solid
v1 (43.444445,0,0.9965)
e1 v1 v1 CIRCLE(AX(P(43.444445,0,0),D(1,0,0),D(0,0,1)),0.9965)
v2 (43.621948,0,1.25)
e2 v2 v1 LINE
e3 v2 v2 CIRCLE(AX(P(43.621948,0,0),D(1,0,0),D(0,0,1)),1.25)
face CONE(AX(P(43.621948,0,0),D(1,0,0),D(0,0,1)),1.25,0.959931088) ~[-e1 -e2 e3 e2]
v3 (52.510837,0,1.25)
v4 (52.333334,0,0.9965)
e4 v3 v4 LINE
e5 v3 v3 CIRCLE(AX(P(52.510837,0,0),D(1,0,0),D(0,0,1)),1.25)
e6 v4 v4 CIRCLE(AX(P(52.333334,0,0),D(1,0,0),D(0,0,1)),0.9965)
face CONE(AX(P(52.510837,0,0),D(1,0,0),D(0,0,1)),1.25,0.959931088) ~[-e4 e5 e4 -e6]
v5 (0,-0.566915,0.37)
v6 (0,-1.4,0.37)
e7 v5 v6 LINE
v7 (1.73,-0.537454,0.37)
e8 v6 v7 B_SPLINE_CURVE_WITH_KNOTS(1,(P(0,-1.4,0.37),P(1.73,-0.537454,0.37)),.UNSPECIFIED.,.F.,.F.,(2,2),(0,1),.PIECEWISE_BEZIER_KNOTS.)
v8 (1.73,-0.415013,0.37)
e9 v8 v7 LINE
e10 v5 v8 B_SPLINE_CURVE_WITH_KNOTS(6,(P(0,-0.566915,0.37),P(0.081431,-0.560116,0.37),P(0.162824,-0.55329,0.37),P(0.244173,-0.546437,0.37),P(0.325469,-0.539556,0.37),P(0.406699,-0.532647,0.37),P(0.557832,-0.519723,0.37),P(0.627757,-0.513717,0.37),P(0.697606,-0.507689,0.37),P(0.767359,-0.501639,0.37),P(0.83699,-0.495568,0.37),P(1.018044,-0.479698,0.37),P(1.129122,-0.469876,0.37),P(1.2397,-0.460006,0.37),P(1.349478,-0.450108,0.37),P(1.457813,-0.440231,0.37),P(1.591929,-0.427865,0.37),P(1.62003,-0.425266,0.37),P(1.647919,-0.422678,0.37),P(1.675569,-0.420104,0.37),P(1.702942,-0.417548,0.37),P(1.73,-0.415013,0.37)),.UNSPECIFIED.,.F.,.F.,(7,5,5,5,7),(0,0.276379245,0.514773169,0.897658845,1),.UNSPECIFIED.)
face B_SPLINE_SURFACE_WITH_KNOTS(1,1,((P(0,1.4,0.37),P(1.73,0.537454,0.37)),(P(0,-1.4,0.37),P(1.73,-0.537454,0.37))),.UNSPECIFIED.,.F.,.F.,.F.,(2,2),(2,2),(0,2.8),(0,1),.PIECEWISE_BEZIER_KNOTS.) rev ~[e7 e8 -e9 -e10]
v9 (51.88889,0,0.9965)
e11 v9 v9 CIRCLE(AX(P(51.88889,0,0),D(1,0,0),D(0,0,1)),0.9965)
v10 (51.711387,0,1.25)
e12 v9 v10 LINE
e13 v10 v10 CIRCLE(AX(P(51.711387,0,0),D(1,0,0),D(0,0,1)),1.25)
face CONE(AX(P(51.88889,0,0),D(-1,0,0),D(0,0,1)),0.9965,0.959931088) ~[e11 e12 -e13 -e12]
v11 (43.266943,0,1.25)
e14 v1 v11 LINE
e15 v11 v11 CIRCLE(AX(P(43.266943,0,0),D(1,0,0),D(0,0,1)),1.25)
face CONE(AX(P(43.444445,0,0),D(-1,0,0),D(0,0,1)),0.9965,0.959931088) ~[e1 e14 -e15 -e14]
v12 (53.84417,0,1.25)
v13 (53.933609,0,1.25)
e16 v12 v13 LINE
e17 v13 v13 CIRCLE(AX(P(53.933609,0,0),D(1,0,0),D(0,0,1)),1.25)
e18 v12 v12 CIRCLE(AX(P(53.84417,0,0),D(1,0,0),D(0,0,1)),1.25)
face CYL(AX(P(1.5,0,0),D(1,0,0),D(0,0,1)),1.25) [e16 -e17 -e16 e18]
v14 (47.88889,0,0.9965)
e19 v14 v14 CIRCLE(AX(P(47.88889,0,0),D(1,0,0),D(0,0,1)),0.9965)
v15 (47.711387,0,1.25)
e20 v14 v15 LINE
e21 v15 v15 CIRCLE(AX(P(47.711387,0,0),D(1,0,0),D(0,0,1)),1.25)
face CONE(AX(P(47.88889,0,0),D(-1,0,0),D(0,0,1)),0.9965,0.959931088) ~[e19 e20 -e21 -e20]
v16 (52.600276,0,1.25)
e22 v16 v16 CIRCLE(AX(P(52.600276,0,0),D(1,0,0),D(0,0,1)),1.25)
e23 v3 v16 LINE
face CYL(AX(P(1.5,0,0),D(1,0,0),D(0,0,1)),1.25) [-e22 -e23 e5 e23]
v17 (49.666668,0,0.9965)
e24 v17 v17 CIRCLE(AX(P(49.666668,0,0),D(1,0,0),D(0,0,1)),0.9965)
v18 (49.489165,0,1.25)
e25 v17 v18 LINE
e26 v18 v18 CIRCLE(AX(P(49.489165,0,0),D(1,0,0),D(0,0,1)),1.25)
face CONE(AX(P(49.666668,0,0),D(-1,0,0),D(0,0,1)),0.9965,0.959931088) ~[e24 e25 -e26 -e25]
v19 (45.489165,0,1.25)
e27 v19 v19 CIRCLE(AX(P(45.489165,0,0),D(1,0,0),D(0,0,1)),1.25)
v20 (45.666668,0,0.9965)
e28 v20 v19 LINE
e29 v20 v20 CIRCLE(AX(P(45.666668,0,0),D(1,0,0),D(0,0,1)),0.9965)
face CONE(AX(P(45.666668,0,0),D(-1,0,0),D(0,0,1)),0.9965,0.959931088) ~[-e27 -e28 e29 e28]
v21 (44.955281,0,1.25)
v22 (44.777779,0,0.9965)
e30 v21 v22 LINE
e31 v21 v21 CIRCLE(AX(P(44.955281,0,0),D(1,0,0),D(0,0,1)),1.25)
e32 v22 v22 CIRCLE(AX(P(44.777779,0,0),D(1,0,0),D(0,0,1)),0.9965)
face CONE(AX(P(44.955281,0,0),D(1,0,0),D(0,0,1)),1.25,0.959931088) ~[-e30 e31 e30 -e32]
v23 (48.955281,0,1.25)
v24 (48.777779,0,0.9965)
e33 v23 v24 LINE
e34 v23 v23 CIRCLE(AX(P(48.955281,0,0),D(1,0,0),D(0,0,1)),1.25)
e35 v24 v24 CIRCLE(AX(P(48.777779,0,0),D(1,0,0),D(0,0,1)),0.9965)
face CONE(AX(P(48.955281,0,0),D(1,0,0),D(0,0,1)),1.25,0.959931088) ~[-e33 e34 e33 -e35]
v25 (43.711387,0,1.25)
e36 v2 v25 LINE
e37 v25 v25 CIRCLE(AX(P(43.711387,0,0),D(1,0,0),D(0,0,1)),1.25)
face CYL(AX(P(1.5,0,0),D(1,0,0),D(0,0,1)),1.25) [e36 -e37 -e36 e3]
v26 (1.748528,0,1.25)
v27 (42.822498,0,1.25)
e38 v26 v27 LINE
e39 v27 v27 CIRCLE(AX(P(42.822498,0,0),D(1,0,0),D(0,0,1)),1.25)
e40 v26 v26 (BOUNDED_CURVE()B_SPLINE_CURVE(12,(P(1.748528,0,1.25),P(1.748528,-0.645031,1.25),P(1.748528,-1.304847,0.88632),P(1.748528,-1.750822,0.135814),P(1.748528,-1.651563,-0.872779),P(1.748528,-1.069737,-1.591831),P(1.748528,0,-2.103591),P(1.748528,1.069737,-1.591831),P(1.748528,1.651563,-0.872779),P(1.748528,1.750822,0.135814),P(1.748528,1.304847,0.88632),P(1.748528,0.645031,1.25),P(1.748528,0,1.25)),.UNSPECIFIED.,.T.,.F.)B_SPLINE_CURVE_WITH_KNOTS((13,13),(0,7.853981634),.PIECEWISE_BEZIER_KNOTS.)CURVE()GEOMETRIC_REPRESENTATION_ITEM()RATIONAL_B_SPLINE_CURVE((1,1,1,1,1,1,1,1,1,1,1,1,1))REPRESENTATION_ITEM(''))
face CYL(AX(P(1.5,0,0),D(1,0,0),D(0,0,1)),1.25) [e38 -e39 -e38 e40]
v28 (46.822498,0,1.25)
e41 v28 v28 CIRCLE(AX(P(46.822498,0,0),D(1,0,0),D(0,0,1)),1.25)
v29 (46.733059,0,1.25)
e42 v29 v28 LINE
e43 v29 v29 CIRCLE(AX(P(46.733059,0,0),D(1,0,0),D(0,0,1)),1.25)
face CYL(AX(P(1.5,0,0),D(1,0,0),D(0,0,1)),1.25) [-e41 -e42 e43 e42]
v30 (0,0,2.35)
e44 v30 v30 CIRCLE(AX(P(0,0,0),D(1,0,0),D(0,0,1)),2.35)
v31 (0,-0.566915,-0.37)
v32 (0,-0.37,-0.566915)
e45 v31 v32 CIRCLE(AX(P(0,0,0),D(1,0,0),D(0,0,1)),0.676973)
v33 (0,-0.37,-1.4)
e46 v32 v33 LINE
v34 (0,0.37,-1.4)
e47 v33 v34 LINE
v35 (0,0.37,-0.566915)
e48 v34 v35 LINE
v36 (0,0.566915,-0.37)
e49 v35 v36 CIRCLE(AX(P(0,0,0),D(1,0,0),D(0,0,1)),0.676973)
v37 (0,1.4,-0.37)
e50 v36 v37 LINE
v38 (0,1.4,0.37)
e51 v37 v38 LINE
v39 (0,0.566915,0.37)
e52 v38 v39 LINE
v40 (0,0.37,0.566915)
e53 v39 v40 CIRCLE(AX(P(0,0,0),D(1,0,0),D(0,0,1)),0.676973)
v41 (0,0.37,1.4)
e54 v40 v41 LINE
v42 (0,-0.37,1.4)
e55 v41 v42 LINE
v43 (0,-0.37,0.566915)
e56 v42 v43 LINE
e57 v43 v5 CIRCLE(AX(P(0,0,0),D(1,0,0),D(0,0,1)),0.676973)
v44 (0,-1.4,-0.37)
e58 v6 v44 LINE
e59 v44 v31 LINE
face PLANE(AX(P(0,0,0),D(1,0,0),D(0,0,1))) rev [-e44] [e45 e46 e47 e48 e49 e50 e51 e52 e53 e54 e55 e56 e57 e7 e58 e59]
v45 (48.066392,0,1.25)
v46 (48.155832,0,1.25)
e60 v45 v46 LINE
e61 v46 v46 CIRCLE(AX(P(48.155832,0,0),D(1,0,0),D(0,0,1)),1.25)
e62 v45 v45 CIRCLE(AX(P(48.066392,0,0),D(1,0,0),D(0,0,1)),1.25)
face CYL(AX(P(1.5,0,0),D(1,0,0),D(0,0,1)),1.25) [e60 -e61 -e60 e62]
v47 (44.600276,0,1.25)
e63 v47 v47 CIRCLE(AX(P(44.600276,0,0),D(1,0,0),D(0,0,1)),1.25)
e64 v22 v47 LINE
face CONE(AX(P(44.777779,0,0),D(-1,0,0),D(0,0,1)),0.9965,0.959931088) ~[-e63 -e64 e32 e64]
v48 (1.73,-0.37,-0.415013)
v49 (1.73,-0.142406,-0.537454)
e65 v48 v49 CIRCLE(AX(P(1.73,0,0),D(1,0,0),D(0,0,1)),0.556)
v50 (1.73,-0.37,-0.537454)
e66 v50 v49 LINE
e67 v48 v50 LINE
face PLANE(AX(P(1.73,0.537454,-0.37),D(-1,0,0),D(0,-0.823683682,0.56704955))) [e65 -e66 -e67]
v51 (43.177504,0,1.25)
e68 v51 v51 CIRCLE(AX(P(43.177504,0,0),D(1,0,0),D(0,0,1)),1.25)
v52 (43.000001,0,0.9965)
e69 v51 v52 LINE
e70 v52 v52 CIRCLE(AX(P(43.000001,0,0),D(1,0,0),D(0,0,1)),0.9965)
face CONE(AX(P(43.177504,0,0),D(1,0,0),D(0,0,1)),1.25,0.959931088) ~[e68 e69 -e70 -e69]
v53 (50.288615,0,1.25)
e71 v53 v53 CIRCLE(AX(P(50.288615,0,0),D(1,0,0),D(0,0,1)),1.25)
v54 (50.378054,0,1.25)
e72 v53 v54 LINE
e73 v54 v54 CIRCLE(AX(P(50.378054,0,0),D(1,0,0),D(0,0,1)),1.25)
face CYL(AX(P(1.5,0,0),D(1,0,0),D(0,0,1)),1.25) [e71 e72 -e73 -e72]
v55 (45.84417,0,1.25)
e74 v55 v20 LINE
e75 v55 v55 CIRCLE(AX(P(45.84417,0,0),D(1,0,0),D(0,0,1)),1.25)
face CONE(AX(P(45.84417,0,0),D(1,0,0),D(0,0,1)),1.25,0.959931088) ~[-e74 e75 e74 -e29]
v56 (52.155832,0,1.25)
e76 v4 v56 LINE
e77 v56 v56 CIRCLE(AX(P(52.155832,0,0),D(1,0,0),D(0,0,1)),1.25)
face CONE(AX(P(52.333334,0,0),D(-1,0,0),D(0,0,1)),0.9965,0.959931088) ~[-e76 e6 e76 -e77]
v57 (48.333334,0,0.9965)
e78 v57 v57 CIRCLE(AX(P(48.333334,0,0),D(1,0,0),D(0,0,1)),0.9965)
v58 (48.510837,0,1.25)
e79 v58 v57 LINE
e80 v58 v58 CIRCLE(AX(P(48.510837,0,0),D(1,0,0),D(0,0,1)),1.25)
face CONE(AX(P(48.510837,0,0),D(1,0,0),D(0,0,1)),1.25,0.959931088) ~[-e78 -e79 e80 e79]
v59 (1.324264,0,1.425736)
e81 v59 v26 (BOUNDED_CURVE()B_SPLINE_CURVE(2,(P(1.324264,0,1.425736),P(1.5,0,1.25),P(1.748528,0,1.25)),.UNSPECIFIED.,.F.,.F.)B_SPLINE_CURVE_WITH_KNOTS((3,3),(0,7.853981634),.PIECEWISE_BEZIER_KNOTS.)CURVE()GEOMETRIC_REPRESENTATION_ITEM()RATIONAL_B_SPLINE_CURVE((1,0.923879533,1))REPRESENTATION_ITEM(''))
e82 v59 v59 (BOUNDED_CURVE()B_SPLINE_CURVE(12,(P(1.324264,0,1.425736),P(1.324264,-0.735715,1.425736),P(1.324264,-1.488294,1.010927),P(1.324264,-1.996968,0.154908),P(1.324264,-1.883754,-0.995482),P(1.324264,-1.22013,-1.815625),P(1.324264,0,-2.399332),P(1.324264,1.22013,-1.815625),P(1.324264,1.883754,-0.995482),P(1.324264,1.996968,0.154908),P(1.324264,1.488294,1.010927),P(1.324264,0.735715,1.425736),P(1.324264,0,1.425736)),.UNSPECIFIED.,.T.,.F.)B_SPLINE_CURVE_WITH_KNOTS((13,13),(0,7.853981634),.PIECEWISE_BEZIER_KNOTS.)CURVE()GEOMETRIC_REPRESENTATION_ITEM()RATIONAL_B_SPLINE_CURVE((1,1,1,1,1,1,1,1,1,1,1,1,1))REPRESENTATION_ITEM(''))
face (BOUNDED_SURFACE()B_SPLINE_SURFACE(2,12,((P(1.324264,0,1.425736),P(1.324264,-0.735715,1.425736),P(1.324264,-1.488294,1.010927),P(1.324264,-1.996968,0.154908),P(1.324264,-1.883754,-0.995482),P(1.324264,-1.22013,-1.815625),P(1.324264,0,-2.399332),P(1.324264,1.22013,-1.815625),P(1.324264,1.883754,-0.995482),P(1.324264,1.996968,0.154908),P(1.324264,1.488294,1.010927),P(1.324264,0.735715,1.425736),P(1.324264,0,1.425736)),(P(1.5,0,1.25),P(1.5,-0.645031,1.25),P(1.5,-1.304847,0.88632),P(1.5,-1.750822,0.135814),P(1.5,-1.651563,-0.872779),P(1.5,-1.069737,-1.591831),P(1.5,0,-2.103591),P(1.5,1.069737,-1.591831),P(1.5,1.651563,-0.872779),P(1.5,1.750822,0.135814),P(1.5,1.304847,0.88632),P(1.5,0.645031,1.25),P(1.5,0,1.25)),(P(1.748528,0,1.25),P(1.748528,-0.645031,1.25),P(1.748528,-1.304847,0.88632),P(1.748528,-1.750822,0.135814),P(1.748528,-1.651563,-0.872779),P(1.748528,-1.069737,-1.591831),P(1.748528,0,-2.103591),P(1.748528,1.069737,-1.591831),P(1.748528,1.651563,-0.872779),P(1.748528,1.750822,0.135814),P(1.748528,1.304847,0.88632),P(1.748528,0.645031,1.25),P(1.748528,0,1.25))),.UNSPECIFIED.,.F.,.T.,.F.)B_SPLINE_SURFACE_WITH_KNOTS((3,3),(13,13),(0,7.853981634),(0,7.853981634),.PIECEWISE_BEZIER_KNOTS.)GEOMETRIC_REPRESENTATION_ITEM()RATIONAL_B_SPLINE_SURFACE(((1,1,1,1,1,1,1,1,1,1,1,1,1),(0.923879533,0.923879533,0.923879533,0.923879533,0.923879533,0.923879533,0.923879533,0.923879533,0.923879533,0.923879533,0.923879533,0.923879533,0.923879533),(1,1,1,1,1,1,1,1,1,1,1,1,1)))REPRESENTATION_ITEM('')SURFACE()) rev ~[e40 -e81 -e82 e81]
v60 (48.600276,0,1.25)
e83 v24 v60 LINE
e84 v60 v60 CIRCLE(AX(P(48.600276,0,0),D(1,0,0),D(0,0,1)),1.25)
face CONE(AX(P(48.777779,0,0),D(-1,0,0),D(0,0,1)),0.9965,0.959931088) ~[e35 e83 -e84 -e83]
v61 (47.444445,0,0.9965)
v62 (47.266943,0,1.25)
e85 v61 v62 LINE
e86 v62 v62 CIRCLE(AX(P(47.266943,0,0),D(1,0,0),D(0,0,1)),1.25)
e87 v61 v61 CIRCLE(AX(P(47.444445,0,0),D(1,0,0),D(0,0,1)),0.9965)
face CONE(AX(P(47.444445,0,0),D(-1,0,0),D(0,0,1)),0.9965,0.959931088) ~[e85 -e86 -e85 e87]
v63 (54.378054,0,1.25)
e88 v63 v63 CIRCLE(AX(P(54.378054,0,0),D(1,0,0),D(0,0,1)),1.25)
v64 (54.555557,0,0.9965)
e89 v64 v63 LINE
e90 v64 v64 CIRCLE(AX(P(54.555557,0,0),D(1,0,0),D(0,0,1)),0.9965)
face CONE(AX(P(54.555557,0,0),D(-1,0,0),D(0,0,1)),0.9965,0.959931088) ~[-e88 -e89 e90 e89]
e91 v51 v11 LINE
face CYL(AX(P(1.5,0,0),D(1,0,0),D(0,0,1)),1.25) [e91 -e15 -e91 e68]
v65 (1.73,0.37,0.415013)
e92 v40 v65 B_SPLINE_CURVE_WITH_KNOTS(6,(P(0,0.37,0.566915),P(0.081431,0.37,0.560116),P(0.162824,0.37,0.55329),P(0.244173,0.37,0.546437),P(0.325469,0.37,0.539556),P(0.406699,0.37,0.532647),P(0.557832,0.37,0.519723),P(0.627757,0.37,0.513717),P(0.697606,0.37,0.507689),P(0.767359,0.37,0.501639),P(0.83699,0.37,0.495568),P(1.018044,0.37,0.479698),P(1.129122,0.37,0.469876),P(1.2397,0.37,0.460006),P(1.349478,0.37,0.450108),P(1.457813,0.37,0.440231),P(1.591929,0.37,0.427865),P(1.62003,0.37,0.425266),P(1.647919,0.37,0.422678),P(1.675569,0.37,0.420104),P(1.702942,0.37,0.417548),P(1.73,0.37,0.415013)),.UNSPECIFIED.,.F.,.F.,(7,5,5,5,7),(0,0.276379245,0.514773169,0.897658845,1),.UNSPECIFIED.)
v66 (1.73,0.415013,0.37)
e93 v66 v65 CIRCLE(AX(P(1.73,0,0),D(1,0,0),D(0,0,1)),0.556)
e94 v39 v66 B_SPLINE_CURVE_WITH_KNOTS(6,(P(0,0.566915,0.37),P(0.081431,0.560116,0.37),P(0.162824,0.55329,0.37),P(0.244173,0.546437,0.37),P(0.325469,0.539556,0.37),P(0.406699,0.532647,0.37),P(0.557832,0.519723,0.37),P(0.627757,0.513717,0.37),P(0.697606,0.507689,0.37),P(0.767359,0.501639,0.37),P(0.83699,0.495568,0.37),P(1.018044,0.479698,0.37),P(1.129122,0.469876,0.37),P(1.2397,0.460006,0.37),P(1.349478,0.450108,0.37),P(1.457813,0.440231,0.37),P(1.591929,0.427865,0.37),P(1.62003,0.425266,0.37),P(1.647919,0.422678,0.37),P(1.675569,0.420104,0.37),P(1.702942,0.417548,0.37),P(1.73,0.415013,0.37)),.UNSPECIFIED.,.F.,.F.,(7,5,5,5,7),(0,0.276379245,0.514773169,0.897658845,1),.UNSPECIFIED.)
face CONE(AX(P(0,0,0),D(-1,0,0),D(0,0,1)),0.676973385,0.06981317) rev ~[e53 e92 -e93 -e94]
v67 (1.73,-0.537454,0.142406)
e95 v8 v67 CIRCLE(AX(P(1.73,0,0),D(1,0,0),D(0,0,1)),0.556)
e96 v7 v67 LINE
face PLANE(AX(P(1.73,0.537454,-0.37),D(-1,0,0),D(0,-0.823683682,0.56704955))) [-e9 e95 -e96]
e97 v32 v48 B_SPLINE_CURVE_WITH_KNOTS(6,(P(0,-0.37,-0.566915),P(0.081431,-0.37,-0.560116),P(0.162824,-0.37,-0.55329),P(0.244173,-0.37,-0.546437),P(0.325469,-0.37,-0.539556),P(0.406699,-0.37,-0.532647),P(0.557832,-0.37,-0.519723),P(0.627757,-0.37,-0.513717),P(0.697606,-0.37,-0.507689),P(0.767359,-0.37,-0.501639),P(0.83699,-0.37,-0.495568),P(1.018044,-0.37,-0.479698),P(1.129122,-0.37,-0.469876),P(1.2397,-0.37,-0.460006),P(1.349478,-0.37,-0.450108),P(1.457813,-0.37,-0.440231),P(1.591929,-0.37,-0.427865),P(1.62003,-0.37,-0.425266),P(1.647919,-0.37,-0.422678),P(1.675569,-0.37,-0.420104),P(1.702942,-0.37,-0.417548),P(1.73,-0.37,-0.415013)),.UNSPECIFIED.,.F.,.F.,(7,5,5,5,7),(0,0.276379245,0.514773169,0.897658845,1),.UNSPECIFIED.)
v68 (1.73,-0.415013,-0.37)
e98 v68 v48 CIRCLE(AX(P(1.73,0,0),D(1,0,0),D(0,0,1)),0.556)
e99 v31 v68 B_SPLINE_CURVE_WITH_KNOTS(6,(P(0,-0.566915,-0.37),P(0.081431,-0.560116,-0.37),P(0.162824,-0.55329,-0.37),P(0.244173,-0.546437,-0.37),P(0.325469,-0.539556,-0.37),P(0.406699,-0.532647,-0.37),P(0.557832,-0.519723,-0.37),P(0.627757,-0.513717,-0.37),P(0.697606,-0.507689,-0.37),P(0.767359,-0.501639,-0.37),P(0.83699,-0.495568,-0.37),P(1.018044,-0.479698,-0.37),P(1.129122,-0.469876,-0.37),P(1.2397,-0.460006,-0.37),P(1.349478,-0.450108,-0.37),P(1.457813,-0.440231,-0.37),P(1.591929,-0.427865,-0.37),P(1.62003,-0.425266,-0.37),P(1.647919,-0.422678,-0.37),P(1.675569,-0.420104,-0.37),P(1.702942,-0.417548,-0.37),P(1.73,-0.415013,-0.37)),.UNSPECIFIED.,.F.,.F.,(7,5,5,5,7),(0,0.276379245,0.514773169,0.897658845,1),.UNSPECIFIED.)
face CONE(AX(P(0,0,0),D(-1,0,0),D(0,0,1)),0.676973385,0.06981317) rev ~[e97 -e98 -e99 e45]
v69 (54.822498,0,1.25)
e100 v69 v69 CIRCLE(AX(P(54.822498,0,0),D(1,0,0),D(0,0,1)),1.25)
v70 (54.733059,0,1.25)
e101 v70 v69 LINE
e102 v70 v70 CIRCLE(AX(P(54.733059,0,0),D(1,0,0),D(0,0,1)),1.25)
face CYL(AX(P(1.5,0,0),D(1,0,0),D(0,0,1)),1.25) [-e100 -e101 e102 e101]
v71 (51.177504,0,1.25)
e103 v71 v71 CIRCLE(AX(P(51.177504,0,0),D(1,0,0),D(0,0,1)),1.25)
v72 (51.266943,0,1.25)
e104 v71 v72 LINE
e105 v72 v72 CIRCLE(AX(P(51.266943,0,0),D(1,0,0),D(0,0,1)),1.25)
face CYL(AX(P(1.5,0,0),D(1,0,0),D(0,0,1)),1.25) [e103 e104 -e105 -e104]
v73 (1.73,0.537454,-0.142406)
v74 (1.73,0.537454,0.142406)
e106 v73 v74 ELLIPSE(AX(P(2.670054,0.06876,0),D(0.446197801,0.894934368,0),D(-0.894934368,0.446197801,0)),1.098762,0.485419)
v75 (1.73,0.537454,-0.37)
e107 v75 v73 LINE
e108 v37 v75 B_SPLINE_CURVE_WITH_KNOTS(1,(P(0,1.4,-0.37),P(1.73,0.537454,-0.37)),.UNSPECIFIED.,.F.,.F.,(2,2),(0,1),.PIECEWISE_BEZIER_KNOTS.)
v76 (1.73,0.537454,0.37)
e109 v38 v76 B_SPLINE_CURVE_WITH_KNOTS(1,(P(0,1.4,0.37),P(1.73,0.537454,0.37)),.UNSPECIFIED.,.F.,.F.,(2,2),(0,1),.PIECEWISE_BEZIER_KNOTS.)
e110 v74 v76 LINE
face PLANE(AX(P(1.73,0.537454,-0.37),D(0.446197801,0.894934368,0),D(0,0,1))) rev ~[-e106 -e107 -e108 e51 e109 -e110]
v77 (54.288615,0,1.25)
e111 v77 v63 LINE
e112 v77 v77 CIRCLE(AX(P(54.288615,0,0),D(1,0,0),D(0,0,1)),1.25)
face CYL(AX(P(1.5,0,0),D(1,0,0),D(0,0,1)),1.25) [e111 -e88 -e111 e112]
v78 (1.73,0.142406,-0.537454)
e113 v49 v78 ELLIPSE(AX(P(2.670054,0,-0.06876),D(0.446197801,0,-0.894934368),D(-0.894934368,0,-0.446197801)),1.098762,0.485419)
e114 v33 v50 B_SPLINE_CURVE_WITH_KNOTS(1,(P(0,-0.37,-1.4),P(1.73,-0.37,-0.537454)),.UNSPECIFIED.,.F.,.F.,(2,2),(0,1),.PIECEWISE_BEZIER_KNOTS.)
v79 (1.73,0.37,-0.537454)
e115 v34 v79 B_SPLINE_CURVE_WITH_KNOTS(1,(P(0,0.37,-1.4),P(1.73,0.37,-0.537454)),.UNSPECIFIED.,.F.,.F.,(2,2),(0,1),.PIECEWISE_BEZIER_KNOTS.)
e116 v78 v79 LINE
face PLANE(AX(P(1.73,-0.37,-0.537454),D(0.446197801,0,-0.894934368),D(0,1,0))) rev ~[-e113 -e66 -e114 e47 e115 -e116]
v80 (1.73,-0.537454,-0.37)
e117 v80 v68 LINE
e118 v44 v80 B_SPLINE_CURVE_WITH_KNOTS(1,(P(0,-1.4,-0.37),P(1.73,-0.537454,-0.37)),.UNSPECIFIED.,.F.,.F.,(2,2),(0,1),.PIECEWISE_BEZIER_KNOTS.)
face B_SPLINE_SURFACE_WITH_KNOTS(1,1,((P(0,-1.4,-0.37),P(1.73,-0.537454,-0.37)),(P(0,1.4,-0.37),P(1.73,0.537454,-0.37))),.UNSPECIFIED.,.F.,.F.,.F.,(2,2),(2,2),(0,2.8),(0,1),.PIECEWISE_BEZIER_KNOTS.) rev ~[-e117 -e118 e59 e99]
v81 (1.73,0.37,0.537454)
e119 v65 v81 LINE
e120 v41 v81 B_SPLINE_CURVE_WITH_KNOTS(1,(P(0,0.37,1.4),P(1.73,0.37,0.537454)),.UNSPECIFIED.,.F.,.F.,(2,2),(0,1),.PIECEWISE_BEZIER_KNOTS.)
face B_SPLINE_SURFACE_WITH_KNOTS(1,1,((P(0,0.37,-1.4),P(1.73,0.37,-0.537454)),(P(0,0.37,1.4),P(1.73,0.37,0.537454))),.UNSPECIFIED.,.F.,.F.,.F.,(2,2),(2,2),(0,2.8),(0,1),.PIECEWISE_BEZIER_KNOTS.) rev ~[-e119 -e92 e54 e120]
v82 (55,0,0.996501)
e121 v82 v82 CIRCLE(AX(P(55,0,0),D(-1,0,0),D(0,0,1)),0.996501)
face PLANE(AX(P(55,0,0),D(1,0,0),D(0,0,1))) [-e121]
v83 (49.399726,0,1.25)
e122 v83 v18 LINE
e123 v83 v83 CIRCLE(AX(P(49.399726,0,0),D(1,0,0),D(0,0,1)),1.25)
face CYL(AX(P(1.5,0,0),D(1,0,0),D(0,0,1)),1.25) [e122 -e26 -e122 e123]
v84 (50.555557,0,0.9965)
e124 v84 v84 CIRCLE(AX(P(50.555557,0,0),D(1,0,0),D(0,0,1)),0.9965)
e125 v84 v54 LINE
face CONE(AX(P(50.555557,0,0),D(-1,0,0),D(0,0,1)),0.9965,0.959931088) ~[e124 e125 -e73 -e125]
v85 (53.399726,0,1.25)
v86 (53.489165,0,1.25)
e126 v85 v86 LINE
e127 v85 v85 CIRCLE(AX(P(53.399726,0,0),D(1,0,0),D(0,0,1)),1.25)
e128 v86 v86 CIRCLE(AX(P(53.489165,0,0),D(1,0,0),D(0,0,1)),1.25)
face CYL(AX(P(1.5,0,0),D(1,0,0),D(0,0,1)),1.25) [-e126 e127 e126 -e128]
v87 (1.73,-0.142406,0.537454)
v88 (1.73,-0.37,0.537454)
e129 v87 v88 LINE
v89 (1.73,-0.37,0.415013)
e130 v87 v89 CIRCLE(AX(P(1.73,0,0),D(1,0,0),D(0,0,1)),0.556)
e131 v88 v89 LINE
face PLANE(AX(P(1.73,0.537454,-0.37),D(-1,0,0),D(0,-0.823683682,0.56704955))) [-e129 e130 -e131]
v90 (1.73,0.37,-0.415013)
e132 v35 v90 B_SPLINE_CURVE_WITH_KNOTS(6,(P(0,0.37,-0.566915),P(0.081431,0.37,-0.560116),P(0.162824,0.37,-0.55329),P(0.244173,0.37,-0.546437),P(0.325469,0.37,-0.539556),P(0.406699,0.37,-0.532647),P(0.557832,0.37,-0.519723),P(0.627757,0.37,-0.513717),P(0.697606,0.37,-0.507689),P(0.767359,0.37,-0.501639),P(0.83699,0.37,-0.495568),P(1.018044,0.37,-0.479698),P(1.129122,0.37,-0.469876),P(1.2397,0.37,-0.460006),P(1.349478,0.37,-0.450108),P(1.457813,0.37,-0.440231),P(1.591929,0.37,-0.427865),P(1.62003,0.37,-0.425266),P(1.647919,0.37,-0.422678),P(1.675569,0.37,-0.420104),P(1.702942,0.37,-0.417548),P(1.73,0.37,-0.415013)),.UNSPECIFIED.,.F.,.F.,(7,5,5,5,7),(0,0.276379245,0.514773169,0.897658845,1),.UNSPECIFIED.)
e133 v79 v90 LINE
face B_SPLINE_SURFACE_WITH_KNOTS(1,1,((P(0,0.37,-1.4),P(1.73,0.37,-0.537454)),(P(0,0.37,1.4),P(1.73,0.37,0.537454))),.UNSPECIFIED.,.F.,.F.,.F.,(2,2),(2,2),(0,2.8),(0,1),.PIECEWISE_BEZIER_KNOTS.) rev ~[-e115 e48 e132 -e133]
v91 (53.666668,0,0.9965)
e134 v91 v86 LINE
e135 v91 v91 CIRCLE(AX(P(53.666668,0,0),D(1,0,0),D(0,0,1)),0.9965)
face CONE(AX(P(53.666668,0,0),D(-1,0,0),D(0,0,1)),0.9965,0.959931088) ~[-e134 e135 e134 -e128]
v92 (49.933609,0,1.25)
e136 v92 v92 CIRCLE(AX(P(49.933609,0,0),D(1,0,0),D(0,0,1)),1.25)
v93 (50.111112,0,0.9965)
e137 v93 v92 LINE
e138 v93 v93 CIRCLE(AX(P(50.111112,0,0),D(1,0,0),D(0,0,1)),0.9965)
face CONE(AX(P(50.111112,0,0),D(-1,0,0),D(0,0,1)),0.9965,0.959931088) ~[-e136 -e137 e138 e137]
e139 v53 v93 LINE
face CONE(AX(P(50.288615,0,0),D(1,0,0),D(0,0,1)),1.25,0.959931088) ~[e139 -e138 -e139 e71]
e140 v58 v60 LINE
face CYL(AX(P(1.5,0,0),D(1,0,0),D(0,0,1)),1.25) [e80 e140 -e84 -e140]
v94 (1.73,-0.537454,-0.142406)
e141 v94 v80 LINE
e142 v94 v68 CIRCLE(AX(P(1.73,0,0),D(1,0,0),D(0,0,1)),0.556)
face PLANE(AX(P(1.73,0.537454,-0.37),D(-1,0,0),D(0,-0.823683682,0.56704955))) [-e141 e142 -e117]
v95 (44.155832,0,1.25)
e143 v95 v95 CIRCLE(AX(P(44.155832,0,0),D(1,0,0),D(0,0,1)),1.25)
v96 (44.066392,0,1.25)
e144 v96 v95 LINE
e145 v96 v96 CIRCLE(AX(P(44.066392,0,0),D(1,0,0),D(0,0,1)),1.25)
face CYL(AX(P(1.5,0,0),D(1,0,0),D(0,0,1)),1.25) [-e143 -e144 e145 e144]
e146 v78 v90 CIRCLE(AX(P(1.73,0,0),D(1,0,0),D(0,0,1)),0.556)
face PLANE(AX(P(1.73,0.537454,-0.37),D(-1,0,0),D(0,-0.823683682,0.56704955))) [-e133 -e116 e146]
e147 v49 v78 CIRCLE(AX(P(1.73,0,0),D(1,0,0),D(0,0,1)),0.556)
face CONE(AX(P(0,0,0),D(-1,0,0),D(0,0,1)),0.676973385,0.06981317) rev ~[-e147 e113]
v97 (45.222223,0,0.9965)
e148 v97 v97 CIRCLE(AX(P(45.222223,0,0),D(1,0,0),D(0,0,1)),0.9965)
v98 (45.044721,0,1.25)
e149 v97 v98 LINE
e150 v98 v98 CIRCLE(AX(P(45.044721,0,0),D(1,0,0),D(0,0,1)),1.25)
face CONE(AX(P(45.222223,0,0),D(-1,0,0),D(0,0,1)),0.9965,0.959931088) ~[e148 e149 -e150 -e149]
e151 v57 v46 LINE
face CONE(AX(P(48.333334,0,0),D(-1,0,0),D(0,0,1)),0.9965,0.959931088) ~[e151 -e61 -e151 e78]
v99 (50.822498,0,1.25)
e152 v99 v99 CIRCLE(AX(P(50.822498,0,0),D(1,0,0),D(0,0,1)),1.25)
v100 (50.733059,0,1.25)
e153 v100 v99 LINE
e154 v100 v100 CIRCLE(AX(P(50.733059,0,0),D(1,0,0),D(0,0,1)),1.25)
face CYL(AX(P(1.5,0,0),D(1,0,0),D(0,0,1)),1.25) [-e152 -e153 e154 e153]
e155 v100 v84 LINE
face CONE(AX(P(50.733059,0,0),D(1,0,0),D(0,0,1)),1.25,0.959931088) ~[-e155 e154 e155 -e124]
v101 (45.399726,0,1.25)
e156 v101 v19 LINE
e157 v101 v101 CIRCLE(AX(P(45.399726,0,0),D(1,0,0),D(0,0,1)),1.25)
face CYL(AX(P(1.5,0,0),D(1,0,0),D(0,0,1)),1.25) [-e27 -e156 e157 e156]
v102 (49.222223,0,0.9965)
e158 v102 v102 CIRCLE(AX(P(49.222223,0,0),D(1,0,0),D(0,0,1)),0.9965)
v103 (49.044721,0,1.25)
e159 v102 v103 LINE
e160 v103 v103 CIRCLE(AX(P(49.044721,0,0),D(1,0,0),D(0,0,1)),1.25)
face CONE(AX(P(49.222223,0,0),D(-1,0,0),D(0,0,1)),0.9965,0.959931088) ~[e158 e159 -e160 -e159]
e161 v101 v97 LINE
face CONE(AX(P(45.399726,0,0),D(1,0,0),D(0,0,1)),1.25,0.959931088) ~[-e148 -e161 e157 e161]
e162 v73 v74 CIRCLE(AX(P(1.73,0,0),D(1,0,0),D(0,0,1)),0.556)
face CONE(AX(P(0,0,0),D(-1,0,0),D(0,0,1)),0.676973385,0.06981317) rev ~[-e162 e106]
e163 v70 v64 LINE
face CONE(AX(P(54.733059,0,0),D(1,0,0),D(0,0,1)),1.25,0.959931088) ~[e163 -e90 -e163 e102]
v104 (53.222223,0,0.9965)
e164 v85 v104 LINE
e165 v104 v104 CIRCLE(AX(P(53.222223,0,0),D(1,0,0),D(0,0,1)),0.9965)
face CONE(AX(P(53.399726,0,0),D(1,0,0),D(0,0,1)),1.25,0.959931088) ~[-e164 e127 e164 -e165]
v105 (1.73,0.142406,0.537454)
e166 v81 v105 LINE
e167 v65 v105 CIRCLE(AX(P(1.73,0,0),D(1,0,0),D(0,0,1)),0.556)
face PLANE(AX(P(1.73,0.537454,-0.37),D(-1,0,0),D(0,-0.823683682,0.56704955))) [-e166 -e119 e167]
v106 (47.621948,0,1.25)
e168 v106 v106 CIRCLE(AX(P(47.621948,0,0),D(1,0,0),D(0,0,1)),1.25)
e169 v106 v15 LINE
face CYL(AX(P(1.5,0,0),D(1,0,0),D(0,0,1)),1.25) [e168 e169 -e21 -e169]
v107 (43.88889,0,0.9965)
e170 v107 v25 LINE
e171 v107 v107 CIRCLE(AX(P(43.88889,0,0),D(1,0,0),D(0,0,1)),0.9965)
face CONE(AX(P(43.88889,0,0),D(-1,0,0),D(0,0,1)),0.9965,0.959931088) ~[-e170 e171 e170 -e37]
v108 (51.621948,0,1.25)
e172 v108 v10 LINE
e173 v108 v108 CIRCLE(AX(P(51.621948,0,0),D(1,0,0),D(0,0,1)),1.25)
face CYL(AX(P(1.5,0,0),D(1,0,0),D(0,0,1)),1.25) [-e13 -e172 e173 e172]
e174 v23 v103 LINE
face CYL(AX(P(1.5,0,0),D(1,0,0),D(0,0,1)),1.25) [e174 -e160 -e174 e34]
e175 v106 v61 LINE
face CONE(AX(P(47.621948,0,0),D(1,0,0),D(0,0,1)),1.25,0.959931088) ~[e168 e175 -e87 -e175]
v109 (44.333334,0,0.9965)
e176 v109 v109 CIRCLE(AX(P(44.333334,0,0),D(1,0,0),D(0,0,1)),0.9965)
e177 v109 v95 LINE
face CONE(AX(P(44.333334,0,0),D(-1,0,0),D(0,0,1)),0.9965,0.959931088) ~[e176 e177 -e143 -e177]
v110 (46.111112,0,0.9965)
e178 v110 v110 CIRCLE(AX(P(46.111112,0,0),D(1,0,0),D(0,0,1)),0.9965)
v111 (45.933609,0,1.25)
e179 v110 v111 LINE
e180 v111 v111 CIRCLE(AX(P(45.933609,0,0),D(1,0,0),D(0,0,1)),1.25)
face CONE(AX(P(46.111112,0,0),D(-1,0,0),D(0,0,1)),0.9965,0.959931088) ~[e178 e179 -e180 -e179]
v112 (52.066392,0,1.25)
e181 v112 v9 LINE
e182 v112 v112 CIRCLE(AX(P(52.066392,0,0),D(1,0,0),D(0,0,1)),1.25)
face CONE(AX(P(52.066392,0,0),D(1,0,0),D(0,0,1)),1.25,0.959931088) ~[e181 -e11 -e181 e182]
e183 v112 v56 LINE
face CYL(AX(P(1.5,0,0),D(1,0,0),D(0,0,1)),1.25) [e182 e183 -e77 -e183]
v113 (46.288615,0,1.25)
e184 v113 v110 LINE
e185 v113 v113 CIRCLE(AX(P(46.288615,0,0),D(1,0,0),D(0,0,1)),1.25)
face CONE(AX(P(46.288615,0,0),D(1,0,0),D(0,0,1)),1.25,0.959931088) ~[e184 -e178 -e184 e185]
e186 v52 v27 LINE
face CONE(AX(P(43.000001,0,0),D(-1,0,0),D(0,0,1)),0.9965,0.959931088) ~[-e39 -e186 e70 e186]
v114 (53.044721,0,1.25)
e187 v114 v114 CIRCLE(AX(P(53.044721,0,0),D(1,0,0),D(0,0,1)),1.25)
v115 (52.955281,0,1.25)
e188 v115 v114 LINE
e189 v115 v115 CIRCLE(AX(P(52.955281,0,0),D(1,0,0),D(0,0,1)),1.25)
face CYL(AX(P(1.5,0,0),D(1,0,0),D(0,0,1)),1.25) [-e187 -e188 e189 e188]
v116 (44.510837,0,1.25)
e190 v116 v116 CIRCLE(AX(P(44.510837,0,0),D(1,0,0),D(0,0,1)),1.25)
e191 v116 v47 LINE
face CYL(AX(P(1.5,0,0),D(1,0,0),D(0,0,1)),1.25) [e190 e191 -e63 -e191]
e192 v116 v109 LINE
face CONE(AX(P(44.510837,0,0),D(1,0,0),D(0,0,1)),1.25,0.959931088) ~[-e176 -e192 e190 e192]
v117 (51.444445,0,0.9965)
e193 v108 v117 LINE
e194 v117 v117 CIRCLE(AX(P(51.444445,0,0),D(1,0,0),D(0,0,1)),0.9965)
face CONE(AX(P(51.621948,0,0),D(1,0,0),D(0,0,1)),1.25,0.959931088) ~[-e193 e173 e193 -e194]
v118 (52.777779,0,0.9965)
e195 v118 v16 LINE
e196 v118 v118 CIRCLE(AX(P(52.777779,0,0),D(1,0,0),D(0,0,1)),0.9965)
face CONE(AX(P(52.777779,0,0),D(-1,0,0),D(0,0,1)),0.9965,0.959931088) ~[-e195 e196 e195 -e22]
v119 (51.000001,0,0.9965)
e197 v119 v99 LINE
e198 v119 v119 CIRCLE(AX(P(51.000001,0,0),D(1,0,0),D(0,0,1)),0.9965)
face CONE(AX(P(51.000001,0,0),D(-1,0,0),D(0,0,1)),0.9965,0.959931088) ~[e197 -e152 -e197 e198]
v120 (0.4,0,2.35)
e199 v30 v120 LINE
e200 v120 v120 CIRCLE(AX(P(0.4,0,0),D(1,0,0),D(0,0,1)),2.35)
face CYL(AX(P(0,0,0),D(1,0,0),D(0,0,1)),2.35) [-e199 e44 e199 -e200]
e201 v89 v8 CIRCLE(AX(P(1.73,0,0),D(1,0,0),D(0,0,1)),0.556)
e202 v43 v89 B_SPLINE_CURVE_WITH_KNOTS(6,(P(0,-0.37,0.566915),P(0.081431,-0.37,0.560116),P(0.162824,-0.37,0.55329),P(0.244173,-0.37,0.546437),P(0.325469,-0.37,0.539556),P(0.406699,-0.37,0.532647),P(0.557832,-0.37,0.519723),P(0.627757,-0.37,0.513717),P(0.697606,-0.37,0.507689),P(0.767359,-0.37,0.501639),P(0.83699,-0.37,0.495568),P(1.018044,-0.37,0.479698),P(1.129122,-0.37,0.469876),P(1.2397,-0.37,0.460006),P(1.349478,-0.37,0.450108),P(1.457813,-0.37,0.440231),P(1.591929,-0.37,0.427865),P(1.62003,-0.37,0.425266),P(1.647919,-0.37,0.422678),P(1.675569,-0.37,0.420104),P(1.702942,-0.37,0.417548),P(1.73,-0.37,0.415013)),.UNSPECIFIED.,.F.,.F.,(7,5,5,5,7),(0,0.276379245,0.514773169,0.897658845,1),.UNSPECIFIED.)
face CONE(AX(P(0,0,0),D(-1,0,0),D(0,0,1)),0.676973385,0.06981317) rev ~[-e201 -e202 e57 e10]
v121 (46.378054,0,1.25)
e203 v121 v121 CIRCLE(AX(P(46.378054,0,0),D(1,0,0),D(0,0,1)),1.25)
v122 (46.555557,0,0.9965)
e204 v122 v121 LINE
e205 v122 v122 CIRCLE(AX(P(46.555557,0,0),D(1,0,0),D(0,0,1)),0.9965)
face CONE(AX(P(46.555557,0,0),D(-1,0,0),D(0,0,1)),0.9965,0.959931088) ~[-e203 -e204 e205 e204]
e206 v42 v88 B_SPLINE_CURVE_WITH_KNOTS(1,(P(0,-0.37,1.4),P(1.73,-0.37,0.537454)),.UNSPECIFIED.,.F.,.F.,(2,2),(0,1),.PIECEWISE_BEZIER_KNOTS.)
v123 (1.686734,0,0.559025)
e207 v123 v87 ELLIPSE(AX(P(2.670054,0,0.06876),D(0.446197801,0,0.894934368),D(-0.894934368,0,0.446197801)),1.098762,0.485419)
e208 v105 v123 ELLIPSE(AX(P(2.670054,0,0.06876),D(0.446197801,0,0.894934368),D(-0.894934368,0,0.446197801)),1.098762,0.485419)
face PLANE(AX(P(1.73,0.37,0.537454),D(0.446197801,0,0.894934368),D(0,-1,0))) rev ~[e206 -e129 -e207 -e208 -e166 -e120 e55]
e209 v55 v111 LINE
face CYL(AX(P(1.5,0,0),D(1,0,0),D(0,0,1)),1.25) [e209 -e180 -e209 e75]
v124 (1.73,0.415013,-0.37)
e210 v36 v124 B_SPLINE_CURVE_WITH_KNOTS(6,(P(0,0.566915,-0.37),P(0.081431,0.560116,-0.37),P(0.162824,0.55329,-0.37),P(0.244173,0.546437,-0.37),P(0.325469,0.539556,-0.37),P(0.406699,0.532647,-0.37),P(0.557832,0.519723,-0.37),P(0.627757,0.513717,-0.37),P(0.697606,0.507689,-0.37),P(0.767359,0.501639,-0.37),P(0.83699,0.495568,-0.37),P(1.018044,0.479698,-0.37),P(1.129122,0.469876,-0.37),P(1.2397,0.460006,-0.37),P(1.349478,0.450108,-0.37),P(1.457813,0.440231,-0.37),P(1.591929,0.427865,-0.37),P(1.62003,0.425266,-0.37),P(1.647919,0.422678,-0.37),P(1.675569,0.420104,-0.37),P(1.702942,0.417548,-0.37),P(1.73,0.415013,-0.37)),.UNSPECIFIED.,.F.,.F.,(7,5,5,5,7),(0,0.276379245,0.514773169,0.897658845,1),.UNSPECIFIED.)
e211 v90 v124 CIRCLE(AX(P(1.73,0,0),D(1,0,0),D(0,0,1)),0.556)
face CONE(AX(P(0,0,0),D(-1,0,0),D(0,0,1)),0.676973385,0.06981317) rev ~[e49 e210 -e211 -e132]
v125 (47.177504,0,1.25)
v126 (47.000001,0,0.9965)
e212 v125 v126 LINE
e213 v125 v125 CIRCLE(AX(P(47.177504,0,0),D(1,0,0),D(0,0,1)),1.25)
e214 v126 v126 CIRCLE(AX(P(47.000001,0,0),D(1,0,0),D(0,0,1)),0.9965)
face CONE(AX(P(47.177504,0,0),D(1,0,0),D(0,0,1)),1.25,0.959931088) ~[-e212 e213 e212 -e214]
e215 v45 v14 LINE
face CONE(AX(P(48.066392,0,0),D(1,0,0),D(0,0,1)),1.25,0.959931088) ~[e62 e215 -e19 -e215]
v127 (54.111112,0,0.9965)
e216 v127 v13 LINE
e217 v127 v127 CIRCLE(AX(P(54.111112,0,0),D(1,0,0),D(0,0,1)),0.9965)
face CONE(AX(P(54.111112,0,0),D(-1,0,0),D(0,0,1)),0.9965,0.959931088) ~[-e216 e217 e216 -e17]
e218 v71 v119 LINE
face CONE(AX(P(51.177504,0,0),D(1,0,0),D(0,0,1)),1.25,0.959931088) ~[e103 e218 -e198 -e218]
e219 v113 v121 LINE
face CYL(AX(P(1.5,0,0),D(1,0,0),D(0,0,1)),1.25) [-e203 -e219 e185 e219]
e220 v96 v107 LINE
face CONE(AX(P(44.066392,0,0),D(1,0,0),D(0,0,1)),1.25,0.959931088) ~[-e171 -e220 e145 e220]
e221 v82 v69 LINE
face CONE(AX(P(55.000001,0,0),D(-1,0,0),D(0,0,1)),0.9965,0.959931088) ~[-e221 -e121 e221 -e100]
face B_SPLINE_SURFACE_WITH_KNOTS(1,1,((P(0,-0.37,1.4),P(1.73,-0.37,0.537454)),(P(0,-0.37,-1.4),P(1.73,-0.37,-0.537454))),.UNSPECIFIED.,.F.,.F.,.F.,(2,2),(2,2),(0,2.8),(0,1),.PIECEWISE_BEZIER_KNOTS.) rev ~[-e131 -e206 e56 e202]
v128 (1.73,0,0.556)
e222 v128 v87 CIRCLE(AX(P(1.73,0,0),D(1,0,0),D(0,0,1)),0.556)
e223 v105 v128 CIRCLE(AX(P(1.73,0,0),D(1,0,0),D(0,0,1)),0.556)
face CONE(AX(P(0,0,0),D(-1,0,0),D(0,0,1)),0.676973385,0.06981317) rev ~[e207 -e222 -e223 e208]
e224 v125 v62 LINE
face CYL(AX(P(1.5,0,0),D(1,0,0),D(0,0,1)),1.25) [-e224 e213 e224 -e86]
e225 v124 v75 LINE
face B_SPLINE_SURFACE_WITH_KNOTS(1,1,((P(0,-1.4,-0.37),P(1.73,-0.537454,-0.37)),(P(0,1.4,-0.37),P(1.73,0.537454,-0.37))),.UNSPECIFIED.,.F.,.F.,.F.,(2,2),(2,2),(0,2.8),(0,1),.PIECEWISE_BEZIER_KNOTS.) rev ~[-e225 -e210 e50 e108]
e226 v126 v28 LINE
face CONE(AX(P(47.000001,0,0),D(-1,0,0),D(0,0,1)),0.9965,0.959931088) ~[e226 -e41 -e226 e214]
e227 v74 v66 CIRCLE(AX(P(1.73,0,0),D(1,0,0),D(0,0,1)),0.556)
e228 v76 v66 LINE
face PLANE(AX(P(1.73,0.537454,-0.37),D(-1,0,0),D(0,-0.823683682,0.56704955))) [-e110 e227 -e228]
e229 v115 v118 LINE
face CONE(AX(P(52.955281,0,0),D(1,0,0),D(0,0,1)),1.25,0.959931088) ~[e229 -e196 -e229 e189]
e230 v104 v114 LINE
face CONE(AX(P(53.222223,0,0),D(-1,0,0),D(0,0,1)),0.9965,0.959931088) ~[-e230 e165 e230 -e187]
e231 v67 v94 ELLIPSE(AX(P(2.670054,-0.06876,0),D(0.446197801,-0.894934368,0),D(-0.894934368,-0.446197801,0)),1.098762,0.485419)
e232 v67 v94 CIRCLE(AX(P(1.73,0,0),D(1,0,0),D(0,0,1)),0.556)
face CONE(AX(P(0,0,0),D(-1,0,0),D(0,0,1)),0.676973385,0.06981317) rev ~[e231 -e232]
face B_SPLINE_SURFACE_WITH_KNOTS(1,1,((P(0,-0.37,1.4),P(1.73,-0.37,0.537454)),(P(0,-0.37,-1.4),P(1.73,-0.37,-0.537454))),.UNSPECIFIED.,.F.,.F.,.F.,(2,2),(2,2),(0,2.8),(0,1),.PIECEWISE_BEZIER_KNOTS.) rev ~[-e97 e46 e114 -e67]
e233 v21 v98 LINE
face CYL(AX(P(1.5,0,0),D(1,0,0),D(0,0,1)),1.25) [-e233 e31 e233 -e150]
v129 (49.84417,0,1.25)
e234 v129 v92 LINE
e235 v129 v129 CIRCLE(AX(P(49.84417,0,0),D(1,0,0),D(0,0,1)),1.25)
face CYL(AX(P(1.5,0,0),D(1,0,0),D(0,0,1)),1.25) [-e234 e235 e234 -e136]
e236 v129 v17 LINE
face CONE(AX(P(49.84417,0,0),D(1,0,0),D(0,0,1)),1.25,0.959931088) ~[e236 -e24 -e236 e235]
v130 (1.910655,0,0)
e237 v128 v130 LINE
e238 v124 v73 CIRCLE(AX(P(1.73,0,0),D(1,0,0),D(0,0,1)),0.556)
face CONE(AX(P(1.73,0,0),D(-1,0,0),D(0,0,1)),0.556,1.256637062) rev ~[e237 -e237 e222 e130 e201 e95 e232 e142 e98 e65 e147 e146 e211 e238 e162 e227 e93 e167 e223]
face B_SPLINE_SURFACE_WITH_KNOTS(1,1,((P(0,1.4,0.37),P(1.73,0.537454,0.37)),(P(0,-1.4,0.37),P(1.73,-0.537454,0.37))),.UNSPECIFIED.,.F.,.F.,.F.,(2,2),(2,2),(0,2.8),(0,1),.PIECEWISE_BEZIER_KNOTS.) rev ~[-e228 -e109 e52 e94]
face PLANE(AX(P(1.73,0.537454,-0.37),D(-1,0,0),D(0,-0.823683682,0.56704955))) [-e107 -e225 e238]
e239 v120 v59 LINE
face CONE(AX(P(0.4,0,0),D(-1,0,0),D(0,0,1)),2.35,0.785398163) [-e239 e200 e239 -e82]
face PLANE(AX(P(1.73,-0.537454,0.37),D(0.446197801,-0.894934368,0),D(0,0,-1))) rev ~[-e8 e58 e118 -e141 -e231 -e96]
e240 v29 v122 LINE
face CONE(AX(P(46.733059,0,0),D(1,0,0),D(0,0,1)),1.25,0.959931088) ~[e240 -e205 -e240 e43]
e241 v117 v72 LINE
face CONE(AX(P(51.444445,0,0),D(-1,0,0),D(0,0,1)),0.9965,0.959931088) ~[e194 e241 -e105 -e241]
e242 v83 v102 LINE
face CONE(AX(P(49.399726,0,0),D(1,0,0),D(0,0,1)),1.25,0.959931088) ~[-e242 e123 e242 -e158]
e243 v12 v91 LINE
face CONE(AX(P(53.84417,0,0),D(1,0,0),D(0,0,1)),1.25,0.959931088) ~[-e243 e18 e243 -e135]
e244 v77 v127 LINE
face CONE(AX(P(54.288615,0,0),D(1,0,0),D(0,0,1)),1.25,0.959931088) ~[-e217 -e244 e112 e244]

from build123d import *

# Parameters (mm, degrees)
FILLET1_R       = 0.6
RECPAT_COUNT    = 2
RECPAT_ANGLE    = 90
THDSCHPAT_COUNT = 28
THDSCHPAT_PITCH = 0.444444444


with BuildPart() as part:
    # BodySke → Base-Revolve (revolve)
    with BuildSketch(Plane.XY, mode=Mode.PRIVATE) as base_revolve_sk:
        Polygon((0, 0), (0, 2.35), (0.4, 2.35), (1.5, 1.25), (55, 1.25), (55, 0), align=None)
    revolve(base_revolve_sk.sketch.rotate(Axis((-6.35, 0, 0), (1, 0, 0)), 90), axis=Axis((-6.35, 0, 0), (1, 0, 0)))

    # Fillet1
    fillet1_edges = [part.edges().sort_by_distance(p)[0] for p in [
        (1.5, 0, -1.25),
    ]]
    fillet(fillet1_edges, radius=FILLET1_R)

    # Sketch3 → Recess section 0
    with BuildSketch(Plane.ZY):
        with BuildLine():
            Line((-0.37, 1.4), (0.37, 1.4))
            Line((0.37, 1.4), (0.37, -1.4))
            Line((0.37, -1.4), (-0.37, -1.4))
            Line((-0.37, -1.4), (-0.37, 1.4))
        make_face()
    # Sketch4 → Recess section 1
    with BuildSketch(Plane.ZY.offset(-1.73)):
        with BuildLine():
            Line((-0.37, 0.537453848), (0.37, 0.537453848))
            Line((0.37, 0.537453848), (0.37, -0.537453848))
            Line((0.37, -0.537453848), (-0.37, -0.537453848))
            Line((-0.37, -0.537453848), (-0.37, 0.537453848))
        make_face()
    recess = loft(mode=Mode.SUBTRACT)

    # RecPat: Recess ×2 about axis
    recpat_axis = Axis((0, 0, 0), (1, 0, 0))
    for i in range(1, RECPAT_COUNT):
        add(recess.rotate(recpat_axis, i * RECPAT_ANGLE / (RECPAT_COUNT - 1)), mode=Mode.SUBTRACT)

    # RecCorSke → RecessCore (revolve, cut)
    with BuildSketch(Plane.XY, mode=Mode.PRIVATE) as recesscore_sk:
        Polygon((0, 0), (0, 0.676973385), (1.73, 0.556), (1.910655351, 0), align=None)
    revolve(recesscore_sk.sketch.rotate(Axis((-3.175, 0, 0), (1, 0, 0)), 90), axis=Axis((-3.175, 0, 0), (1, 0, 0)), mode=Mode.SUBTRACT)

    # ThdSchSke → ThreadSchematic (revolve, cut)
    with BuildSketch(Plane.XY, mode=Mode.PRIVATE) as threadschematic_sk:
        Polygon((43.000001, -0.9965), (42.822498389, -1.25), (42.822498389, -1.5625), (43.177503611, -1.5625), (43.177503611, -1.25), align=None)
    threadschematic = revolve(threadschematic_sk.sketch.rotate(Axis((-3.175, 0, 0), (1, 0, 0)), 270), axis=Axis((-3.175, 0, 0), (1, 0, 0)), mode=Mode.SUBTRACT)

    # ThdSchPat: ThreadSchematic ×28
    with Locations(*[(i * THDSCHPAT_PITCH, 0, 0) for i in range(1, THDSCHPAT_COUNT)]):
        add(threadschematic, mode=Mode.SUBTRACT)


solid = part.part
